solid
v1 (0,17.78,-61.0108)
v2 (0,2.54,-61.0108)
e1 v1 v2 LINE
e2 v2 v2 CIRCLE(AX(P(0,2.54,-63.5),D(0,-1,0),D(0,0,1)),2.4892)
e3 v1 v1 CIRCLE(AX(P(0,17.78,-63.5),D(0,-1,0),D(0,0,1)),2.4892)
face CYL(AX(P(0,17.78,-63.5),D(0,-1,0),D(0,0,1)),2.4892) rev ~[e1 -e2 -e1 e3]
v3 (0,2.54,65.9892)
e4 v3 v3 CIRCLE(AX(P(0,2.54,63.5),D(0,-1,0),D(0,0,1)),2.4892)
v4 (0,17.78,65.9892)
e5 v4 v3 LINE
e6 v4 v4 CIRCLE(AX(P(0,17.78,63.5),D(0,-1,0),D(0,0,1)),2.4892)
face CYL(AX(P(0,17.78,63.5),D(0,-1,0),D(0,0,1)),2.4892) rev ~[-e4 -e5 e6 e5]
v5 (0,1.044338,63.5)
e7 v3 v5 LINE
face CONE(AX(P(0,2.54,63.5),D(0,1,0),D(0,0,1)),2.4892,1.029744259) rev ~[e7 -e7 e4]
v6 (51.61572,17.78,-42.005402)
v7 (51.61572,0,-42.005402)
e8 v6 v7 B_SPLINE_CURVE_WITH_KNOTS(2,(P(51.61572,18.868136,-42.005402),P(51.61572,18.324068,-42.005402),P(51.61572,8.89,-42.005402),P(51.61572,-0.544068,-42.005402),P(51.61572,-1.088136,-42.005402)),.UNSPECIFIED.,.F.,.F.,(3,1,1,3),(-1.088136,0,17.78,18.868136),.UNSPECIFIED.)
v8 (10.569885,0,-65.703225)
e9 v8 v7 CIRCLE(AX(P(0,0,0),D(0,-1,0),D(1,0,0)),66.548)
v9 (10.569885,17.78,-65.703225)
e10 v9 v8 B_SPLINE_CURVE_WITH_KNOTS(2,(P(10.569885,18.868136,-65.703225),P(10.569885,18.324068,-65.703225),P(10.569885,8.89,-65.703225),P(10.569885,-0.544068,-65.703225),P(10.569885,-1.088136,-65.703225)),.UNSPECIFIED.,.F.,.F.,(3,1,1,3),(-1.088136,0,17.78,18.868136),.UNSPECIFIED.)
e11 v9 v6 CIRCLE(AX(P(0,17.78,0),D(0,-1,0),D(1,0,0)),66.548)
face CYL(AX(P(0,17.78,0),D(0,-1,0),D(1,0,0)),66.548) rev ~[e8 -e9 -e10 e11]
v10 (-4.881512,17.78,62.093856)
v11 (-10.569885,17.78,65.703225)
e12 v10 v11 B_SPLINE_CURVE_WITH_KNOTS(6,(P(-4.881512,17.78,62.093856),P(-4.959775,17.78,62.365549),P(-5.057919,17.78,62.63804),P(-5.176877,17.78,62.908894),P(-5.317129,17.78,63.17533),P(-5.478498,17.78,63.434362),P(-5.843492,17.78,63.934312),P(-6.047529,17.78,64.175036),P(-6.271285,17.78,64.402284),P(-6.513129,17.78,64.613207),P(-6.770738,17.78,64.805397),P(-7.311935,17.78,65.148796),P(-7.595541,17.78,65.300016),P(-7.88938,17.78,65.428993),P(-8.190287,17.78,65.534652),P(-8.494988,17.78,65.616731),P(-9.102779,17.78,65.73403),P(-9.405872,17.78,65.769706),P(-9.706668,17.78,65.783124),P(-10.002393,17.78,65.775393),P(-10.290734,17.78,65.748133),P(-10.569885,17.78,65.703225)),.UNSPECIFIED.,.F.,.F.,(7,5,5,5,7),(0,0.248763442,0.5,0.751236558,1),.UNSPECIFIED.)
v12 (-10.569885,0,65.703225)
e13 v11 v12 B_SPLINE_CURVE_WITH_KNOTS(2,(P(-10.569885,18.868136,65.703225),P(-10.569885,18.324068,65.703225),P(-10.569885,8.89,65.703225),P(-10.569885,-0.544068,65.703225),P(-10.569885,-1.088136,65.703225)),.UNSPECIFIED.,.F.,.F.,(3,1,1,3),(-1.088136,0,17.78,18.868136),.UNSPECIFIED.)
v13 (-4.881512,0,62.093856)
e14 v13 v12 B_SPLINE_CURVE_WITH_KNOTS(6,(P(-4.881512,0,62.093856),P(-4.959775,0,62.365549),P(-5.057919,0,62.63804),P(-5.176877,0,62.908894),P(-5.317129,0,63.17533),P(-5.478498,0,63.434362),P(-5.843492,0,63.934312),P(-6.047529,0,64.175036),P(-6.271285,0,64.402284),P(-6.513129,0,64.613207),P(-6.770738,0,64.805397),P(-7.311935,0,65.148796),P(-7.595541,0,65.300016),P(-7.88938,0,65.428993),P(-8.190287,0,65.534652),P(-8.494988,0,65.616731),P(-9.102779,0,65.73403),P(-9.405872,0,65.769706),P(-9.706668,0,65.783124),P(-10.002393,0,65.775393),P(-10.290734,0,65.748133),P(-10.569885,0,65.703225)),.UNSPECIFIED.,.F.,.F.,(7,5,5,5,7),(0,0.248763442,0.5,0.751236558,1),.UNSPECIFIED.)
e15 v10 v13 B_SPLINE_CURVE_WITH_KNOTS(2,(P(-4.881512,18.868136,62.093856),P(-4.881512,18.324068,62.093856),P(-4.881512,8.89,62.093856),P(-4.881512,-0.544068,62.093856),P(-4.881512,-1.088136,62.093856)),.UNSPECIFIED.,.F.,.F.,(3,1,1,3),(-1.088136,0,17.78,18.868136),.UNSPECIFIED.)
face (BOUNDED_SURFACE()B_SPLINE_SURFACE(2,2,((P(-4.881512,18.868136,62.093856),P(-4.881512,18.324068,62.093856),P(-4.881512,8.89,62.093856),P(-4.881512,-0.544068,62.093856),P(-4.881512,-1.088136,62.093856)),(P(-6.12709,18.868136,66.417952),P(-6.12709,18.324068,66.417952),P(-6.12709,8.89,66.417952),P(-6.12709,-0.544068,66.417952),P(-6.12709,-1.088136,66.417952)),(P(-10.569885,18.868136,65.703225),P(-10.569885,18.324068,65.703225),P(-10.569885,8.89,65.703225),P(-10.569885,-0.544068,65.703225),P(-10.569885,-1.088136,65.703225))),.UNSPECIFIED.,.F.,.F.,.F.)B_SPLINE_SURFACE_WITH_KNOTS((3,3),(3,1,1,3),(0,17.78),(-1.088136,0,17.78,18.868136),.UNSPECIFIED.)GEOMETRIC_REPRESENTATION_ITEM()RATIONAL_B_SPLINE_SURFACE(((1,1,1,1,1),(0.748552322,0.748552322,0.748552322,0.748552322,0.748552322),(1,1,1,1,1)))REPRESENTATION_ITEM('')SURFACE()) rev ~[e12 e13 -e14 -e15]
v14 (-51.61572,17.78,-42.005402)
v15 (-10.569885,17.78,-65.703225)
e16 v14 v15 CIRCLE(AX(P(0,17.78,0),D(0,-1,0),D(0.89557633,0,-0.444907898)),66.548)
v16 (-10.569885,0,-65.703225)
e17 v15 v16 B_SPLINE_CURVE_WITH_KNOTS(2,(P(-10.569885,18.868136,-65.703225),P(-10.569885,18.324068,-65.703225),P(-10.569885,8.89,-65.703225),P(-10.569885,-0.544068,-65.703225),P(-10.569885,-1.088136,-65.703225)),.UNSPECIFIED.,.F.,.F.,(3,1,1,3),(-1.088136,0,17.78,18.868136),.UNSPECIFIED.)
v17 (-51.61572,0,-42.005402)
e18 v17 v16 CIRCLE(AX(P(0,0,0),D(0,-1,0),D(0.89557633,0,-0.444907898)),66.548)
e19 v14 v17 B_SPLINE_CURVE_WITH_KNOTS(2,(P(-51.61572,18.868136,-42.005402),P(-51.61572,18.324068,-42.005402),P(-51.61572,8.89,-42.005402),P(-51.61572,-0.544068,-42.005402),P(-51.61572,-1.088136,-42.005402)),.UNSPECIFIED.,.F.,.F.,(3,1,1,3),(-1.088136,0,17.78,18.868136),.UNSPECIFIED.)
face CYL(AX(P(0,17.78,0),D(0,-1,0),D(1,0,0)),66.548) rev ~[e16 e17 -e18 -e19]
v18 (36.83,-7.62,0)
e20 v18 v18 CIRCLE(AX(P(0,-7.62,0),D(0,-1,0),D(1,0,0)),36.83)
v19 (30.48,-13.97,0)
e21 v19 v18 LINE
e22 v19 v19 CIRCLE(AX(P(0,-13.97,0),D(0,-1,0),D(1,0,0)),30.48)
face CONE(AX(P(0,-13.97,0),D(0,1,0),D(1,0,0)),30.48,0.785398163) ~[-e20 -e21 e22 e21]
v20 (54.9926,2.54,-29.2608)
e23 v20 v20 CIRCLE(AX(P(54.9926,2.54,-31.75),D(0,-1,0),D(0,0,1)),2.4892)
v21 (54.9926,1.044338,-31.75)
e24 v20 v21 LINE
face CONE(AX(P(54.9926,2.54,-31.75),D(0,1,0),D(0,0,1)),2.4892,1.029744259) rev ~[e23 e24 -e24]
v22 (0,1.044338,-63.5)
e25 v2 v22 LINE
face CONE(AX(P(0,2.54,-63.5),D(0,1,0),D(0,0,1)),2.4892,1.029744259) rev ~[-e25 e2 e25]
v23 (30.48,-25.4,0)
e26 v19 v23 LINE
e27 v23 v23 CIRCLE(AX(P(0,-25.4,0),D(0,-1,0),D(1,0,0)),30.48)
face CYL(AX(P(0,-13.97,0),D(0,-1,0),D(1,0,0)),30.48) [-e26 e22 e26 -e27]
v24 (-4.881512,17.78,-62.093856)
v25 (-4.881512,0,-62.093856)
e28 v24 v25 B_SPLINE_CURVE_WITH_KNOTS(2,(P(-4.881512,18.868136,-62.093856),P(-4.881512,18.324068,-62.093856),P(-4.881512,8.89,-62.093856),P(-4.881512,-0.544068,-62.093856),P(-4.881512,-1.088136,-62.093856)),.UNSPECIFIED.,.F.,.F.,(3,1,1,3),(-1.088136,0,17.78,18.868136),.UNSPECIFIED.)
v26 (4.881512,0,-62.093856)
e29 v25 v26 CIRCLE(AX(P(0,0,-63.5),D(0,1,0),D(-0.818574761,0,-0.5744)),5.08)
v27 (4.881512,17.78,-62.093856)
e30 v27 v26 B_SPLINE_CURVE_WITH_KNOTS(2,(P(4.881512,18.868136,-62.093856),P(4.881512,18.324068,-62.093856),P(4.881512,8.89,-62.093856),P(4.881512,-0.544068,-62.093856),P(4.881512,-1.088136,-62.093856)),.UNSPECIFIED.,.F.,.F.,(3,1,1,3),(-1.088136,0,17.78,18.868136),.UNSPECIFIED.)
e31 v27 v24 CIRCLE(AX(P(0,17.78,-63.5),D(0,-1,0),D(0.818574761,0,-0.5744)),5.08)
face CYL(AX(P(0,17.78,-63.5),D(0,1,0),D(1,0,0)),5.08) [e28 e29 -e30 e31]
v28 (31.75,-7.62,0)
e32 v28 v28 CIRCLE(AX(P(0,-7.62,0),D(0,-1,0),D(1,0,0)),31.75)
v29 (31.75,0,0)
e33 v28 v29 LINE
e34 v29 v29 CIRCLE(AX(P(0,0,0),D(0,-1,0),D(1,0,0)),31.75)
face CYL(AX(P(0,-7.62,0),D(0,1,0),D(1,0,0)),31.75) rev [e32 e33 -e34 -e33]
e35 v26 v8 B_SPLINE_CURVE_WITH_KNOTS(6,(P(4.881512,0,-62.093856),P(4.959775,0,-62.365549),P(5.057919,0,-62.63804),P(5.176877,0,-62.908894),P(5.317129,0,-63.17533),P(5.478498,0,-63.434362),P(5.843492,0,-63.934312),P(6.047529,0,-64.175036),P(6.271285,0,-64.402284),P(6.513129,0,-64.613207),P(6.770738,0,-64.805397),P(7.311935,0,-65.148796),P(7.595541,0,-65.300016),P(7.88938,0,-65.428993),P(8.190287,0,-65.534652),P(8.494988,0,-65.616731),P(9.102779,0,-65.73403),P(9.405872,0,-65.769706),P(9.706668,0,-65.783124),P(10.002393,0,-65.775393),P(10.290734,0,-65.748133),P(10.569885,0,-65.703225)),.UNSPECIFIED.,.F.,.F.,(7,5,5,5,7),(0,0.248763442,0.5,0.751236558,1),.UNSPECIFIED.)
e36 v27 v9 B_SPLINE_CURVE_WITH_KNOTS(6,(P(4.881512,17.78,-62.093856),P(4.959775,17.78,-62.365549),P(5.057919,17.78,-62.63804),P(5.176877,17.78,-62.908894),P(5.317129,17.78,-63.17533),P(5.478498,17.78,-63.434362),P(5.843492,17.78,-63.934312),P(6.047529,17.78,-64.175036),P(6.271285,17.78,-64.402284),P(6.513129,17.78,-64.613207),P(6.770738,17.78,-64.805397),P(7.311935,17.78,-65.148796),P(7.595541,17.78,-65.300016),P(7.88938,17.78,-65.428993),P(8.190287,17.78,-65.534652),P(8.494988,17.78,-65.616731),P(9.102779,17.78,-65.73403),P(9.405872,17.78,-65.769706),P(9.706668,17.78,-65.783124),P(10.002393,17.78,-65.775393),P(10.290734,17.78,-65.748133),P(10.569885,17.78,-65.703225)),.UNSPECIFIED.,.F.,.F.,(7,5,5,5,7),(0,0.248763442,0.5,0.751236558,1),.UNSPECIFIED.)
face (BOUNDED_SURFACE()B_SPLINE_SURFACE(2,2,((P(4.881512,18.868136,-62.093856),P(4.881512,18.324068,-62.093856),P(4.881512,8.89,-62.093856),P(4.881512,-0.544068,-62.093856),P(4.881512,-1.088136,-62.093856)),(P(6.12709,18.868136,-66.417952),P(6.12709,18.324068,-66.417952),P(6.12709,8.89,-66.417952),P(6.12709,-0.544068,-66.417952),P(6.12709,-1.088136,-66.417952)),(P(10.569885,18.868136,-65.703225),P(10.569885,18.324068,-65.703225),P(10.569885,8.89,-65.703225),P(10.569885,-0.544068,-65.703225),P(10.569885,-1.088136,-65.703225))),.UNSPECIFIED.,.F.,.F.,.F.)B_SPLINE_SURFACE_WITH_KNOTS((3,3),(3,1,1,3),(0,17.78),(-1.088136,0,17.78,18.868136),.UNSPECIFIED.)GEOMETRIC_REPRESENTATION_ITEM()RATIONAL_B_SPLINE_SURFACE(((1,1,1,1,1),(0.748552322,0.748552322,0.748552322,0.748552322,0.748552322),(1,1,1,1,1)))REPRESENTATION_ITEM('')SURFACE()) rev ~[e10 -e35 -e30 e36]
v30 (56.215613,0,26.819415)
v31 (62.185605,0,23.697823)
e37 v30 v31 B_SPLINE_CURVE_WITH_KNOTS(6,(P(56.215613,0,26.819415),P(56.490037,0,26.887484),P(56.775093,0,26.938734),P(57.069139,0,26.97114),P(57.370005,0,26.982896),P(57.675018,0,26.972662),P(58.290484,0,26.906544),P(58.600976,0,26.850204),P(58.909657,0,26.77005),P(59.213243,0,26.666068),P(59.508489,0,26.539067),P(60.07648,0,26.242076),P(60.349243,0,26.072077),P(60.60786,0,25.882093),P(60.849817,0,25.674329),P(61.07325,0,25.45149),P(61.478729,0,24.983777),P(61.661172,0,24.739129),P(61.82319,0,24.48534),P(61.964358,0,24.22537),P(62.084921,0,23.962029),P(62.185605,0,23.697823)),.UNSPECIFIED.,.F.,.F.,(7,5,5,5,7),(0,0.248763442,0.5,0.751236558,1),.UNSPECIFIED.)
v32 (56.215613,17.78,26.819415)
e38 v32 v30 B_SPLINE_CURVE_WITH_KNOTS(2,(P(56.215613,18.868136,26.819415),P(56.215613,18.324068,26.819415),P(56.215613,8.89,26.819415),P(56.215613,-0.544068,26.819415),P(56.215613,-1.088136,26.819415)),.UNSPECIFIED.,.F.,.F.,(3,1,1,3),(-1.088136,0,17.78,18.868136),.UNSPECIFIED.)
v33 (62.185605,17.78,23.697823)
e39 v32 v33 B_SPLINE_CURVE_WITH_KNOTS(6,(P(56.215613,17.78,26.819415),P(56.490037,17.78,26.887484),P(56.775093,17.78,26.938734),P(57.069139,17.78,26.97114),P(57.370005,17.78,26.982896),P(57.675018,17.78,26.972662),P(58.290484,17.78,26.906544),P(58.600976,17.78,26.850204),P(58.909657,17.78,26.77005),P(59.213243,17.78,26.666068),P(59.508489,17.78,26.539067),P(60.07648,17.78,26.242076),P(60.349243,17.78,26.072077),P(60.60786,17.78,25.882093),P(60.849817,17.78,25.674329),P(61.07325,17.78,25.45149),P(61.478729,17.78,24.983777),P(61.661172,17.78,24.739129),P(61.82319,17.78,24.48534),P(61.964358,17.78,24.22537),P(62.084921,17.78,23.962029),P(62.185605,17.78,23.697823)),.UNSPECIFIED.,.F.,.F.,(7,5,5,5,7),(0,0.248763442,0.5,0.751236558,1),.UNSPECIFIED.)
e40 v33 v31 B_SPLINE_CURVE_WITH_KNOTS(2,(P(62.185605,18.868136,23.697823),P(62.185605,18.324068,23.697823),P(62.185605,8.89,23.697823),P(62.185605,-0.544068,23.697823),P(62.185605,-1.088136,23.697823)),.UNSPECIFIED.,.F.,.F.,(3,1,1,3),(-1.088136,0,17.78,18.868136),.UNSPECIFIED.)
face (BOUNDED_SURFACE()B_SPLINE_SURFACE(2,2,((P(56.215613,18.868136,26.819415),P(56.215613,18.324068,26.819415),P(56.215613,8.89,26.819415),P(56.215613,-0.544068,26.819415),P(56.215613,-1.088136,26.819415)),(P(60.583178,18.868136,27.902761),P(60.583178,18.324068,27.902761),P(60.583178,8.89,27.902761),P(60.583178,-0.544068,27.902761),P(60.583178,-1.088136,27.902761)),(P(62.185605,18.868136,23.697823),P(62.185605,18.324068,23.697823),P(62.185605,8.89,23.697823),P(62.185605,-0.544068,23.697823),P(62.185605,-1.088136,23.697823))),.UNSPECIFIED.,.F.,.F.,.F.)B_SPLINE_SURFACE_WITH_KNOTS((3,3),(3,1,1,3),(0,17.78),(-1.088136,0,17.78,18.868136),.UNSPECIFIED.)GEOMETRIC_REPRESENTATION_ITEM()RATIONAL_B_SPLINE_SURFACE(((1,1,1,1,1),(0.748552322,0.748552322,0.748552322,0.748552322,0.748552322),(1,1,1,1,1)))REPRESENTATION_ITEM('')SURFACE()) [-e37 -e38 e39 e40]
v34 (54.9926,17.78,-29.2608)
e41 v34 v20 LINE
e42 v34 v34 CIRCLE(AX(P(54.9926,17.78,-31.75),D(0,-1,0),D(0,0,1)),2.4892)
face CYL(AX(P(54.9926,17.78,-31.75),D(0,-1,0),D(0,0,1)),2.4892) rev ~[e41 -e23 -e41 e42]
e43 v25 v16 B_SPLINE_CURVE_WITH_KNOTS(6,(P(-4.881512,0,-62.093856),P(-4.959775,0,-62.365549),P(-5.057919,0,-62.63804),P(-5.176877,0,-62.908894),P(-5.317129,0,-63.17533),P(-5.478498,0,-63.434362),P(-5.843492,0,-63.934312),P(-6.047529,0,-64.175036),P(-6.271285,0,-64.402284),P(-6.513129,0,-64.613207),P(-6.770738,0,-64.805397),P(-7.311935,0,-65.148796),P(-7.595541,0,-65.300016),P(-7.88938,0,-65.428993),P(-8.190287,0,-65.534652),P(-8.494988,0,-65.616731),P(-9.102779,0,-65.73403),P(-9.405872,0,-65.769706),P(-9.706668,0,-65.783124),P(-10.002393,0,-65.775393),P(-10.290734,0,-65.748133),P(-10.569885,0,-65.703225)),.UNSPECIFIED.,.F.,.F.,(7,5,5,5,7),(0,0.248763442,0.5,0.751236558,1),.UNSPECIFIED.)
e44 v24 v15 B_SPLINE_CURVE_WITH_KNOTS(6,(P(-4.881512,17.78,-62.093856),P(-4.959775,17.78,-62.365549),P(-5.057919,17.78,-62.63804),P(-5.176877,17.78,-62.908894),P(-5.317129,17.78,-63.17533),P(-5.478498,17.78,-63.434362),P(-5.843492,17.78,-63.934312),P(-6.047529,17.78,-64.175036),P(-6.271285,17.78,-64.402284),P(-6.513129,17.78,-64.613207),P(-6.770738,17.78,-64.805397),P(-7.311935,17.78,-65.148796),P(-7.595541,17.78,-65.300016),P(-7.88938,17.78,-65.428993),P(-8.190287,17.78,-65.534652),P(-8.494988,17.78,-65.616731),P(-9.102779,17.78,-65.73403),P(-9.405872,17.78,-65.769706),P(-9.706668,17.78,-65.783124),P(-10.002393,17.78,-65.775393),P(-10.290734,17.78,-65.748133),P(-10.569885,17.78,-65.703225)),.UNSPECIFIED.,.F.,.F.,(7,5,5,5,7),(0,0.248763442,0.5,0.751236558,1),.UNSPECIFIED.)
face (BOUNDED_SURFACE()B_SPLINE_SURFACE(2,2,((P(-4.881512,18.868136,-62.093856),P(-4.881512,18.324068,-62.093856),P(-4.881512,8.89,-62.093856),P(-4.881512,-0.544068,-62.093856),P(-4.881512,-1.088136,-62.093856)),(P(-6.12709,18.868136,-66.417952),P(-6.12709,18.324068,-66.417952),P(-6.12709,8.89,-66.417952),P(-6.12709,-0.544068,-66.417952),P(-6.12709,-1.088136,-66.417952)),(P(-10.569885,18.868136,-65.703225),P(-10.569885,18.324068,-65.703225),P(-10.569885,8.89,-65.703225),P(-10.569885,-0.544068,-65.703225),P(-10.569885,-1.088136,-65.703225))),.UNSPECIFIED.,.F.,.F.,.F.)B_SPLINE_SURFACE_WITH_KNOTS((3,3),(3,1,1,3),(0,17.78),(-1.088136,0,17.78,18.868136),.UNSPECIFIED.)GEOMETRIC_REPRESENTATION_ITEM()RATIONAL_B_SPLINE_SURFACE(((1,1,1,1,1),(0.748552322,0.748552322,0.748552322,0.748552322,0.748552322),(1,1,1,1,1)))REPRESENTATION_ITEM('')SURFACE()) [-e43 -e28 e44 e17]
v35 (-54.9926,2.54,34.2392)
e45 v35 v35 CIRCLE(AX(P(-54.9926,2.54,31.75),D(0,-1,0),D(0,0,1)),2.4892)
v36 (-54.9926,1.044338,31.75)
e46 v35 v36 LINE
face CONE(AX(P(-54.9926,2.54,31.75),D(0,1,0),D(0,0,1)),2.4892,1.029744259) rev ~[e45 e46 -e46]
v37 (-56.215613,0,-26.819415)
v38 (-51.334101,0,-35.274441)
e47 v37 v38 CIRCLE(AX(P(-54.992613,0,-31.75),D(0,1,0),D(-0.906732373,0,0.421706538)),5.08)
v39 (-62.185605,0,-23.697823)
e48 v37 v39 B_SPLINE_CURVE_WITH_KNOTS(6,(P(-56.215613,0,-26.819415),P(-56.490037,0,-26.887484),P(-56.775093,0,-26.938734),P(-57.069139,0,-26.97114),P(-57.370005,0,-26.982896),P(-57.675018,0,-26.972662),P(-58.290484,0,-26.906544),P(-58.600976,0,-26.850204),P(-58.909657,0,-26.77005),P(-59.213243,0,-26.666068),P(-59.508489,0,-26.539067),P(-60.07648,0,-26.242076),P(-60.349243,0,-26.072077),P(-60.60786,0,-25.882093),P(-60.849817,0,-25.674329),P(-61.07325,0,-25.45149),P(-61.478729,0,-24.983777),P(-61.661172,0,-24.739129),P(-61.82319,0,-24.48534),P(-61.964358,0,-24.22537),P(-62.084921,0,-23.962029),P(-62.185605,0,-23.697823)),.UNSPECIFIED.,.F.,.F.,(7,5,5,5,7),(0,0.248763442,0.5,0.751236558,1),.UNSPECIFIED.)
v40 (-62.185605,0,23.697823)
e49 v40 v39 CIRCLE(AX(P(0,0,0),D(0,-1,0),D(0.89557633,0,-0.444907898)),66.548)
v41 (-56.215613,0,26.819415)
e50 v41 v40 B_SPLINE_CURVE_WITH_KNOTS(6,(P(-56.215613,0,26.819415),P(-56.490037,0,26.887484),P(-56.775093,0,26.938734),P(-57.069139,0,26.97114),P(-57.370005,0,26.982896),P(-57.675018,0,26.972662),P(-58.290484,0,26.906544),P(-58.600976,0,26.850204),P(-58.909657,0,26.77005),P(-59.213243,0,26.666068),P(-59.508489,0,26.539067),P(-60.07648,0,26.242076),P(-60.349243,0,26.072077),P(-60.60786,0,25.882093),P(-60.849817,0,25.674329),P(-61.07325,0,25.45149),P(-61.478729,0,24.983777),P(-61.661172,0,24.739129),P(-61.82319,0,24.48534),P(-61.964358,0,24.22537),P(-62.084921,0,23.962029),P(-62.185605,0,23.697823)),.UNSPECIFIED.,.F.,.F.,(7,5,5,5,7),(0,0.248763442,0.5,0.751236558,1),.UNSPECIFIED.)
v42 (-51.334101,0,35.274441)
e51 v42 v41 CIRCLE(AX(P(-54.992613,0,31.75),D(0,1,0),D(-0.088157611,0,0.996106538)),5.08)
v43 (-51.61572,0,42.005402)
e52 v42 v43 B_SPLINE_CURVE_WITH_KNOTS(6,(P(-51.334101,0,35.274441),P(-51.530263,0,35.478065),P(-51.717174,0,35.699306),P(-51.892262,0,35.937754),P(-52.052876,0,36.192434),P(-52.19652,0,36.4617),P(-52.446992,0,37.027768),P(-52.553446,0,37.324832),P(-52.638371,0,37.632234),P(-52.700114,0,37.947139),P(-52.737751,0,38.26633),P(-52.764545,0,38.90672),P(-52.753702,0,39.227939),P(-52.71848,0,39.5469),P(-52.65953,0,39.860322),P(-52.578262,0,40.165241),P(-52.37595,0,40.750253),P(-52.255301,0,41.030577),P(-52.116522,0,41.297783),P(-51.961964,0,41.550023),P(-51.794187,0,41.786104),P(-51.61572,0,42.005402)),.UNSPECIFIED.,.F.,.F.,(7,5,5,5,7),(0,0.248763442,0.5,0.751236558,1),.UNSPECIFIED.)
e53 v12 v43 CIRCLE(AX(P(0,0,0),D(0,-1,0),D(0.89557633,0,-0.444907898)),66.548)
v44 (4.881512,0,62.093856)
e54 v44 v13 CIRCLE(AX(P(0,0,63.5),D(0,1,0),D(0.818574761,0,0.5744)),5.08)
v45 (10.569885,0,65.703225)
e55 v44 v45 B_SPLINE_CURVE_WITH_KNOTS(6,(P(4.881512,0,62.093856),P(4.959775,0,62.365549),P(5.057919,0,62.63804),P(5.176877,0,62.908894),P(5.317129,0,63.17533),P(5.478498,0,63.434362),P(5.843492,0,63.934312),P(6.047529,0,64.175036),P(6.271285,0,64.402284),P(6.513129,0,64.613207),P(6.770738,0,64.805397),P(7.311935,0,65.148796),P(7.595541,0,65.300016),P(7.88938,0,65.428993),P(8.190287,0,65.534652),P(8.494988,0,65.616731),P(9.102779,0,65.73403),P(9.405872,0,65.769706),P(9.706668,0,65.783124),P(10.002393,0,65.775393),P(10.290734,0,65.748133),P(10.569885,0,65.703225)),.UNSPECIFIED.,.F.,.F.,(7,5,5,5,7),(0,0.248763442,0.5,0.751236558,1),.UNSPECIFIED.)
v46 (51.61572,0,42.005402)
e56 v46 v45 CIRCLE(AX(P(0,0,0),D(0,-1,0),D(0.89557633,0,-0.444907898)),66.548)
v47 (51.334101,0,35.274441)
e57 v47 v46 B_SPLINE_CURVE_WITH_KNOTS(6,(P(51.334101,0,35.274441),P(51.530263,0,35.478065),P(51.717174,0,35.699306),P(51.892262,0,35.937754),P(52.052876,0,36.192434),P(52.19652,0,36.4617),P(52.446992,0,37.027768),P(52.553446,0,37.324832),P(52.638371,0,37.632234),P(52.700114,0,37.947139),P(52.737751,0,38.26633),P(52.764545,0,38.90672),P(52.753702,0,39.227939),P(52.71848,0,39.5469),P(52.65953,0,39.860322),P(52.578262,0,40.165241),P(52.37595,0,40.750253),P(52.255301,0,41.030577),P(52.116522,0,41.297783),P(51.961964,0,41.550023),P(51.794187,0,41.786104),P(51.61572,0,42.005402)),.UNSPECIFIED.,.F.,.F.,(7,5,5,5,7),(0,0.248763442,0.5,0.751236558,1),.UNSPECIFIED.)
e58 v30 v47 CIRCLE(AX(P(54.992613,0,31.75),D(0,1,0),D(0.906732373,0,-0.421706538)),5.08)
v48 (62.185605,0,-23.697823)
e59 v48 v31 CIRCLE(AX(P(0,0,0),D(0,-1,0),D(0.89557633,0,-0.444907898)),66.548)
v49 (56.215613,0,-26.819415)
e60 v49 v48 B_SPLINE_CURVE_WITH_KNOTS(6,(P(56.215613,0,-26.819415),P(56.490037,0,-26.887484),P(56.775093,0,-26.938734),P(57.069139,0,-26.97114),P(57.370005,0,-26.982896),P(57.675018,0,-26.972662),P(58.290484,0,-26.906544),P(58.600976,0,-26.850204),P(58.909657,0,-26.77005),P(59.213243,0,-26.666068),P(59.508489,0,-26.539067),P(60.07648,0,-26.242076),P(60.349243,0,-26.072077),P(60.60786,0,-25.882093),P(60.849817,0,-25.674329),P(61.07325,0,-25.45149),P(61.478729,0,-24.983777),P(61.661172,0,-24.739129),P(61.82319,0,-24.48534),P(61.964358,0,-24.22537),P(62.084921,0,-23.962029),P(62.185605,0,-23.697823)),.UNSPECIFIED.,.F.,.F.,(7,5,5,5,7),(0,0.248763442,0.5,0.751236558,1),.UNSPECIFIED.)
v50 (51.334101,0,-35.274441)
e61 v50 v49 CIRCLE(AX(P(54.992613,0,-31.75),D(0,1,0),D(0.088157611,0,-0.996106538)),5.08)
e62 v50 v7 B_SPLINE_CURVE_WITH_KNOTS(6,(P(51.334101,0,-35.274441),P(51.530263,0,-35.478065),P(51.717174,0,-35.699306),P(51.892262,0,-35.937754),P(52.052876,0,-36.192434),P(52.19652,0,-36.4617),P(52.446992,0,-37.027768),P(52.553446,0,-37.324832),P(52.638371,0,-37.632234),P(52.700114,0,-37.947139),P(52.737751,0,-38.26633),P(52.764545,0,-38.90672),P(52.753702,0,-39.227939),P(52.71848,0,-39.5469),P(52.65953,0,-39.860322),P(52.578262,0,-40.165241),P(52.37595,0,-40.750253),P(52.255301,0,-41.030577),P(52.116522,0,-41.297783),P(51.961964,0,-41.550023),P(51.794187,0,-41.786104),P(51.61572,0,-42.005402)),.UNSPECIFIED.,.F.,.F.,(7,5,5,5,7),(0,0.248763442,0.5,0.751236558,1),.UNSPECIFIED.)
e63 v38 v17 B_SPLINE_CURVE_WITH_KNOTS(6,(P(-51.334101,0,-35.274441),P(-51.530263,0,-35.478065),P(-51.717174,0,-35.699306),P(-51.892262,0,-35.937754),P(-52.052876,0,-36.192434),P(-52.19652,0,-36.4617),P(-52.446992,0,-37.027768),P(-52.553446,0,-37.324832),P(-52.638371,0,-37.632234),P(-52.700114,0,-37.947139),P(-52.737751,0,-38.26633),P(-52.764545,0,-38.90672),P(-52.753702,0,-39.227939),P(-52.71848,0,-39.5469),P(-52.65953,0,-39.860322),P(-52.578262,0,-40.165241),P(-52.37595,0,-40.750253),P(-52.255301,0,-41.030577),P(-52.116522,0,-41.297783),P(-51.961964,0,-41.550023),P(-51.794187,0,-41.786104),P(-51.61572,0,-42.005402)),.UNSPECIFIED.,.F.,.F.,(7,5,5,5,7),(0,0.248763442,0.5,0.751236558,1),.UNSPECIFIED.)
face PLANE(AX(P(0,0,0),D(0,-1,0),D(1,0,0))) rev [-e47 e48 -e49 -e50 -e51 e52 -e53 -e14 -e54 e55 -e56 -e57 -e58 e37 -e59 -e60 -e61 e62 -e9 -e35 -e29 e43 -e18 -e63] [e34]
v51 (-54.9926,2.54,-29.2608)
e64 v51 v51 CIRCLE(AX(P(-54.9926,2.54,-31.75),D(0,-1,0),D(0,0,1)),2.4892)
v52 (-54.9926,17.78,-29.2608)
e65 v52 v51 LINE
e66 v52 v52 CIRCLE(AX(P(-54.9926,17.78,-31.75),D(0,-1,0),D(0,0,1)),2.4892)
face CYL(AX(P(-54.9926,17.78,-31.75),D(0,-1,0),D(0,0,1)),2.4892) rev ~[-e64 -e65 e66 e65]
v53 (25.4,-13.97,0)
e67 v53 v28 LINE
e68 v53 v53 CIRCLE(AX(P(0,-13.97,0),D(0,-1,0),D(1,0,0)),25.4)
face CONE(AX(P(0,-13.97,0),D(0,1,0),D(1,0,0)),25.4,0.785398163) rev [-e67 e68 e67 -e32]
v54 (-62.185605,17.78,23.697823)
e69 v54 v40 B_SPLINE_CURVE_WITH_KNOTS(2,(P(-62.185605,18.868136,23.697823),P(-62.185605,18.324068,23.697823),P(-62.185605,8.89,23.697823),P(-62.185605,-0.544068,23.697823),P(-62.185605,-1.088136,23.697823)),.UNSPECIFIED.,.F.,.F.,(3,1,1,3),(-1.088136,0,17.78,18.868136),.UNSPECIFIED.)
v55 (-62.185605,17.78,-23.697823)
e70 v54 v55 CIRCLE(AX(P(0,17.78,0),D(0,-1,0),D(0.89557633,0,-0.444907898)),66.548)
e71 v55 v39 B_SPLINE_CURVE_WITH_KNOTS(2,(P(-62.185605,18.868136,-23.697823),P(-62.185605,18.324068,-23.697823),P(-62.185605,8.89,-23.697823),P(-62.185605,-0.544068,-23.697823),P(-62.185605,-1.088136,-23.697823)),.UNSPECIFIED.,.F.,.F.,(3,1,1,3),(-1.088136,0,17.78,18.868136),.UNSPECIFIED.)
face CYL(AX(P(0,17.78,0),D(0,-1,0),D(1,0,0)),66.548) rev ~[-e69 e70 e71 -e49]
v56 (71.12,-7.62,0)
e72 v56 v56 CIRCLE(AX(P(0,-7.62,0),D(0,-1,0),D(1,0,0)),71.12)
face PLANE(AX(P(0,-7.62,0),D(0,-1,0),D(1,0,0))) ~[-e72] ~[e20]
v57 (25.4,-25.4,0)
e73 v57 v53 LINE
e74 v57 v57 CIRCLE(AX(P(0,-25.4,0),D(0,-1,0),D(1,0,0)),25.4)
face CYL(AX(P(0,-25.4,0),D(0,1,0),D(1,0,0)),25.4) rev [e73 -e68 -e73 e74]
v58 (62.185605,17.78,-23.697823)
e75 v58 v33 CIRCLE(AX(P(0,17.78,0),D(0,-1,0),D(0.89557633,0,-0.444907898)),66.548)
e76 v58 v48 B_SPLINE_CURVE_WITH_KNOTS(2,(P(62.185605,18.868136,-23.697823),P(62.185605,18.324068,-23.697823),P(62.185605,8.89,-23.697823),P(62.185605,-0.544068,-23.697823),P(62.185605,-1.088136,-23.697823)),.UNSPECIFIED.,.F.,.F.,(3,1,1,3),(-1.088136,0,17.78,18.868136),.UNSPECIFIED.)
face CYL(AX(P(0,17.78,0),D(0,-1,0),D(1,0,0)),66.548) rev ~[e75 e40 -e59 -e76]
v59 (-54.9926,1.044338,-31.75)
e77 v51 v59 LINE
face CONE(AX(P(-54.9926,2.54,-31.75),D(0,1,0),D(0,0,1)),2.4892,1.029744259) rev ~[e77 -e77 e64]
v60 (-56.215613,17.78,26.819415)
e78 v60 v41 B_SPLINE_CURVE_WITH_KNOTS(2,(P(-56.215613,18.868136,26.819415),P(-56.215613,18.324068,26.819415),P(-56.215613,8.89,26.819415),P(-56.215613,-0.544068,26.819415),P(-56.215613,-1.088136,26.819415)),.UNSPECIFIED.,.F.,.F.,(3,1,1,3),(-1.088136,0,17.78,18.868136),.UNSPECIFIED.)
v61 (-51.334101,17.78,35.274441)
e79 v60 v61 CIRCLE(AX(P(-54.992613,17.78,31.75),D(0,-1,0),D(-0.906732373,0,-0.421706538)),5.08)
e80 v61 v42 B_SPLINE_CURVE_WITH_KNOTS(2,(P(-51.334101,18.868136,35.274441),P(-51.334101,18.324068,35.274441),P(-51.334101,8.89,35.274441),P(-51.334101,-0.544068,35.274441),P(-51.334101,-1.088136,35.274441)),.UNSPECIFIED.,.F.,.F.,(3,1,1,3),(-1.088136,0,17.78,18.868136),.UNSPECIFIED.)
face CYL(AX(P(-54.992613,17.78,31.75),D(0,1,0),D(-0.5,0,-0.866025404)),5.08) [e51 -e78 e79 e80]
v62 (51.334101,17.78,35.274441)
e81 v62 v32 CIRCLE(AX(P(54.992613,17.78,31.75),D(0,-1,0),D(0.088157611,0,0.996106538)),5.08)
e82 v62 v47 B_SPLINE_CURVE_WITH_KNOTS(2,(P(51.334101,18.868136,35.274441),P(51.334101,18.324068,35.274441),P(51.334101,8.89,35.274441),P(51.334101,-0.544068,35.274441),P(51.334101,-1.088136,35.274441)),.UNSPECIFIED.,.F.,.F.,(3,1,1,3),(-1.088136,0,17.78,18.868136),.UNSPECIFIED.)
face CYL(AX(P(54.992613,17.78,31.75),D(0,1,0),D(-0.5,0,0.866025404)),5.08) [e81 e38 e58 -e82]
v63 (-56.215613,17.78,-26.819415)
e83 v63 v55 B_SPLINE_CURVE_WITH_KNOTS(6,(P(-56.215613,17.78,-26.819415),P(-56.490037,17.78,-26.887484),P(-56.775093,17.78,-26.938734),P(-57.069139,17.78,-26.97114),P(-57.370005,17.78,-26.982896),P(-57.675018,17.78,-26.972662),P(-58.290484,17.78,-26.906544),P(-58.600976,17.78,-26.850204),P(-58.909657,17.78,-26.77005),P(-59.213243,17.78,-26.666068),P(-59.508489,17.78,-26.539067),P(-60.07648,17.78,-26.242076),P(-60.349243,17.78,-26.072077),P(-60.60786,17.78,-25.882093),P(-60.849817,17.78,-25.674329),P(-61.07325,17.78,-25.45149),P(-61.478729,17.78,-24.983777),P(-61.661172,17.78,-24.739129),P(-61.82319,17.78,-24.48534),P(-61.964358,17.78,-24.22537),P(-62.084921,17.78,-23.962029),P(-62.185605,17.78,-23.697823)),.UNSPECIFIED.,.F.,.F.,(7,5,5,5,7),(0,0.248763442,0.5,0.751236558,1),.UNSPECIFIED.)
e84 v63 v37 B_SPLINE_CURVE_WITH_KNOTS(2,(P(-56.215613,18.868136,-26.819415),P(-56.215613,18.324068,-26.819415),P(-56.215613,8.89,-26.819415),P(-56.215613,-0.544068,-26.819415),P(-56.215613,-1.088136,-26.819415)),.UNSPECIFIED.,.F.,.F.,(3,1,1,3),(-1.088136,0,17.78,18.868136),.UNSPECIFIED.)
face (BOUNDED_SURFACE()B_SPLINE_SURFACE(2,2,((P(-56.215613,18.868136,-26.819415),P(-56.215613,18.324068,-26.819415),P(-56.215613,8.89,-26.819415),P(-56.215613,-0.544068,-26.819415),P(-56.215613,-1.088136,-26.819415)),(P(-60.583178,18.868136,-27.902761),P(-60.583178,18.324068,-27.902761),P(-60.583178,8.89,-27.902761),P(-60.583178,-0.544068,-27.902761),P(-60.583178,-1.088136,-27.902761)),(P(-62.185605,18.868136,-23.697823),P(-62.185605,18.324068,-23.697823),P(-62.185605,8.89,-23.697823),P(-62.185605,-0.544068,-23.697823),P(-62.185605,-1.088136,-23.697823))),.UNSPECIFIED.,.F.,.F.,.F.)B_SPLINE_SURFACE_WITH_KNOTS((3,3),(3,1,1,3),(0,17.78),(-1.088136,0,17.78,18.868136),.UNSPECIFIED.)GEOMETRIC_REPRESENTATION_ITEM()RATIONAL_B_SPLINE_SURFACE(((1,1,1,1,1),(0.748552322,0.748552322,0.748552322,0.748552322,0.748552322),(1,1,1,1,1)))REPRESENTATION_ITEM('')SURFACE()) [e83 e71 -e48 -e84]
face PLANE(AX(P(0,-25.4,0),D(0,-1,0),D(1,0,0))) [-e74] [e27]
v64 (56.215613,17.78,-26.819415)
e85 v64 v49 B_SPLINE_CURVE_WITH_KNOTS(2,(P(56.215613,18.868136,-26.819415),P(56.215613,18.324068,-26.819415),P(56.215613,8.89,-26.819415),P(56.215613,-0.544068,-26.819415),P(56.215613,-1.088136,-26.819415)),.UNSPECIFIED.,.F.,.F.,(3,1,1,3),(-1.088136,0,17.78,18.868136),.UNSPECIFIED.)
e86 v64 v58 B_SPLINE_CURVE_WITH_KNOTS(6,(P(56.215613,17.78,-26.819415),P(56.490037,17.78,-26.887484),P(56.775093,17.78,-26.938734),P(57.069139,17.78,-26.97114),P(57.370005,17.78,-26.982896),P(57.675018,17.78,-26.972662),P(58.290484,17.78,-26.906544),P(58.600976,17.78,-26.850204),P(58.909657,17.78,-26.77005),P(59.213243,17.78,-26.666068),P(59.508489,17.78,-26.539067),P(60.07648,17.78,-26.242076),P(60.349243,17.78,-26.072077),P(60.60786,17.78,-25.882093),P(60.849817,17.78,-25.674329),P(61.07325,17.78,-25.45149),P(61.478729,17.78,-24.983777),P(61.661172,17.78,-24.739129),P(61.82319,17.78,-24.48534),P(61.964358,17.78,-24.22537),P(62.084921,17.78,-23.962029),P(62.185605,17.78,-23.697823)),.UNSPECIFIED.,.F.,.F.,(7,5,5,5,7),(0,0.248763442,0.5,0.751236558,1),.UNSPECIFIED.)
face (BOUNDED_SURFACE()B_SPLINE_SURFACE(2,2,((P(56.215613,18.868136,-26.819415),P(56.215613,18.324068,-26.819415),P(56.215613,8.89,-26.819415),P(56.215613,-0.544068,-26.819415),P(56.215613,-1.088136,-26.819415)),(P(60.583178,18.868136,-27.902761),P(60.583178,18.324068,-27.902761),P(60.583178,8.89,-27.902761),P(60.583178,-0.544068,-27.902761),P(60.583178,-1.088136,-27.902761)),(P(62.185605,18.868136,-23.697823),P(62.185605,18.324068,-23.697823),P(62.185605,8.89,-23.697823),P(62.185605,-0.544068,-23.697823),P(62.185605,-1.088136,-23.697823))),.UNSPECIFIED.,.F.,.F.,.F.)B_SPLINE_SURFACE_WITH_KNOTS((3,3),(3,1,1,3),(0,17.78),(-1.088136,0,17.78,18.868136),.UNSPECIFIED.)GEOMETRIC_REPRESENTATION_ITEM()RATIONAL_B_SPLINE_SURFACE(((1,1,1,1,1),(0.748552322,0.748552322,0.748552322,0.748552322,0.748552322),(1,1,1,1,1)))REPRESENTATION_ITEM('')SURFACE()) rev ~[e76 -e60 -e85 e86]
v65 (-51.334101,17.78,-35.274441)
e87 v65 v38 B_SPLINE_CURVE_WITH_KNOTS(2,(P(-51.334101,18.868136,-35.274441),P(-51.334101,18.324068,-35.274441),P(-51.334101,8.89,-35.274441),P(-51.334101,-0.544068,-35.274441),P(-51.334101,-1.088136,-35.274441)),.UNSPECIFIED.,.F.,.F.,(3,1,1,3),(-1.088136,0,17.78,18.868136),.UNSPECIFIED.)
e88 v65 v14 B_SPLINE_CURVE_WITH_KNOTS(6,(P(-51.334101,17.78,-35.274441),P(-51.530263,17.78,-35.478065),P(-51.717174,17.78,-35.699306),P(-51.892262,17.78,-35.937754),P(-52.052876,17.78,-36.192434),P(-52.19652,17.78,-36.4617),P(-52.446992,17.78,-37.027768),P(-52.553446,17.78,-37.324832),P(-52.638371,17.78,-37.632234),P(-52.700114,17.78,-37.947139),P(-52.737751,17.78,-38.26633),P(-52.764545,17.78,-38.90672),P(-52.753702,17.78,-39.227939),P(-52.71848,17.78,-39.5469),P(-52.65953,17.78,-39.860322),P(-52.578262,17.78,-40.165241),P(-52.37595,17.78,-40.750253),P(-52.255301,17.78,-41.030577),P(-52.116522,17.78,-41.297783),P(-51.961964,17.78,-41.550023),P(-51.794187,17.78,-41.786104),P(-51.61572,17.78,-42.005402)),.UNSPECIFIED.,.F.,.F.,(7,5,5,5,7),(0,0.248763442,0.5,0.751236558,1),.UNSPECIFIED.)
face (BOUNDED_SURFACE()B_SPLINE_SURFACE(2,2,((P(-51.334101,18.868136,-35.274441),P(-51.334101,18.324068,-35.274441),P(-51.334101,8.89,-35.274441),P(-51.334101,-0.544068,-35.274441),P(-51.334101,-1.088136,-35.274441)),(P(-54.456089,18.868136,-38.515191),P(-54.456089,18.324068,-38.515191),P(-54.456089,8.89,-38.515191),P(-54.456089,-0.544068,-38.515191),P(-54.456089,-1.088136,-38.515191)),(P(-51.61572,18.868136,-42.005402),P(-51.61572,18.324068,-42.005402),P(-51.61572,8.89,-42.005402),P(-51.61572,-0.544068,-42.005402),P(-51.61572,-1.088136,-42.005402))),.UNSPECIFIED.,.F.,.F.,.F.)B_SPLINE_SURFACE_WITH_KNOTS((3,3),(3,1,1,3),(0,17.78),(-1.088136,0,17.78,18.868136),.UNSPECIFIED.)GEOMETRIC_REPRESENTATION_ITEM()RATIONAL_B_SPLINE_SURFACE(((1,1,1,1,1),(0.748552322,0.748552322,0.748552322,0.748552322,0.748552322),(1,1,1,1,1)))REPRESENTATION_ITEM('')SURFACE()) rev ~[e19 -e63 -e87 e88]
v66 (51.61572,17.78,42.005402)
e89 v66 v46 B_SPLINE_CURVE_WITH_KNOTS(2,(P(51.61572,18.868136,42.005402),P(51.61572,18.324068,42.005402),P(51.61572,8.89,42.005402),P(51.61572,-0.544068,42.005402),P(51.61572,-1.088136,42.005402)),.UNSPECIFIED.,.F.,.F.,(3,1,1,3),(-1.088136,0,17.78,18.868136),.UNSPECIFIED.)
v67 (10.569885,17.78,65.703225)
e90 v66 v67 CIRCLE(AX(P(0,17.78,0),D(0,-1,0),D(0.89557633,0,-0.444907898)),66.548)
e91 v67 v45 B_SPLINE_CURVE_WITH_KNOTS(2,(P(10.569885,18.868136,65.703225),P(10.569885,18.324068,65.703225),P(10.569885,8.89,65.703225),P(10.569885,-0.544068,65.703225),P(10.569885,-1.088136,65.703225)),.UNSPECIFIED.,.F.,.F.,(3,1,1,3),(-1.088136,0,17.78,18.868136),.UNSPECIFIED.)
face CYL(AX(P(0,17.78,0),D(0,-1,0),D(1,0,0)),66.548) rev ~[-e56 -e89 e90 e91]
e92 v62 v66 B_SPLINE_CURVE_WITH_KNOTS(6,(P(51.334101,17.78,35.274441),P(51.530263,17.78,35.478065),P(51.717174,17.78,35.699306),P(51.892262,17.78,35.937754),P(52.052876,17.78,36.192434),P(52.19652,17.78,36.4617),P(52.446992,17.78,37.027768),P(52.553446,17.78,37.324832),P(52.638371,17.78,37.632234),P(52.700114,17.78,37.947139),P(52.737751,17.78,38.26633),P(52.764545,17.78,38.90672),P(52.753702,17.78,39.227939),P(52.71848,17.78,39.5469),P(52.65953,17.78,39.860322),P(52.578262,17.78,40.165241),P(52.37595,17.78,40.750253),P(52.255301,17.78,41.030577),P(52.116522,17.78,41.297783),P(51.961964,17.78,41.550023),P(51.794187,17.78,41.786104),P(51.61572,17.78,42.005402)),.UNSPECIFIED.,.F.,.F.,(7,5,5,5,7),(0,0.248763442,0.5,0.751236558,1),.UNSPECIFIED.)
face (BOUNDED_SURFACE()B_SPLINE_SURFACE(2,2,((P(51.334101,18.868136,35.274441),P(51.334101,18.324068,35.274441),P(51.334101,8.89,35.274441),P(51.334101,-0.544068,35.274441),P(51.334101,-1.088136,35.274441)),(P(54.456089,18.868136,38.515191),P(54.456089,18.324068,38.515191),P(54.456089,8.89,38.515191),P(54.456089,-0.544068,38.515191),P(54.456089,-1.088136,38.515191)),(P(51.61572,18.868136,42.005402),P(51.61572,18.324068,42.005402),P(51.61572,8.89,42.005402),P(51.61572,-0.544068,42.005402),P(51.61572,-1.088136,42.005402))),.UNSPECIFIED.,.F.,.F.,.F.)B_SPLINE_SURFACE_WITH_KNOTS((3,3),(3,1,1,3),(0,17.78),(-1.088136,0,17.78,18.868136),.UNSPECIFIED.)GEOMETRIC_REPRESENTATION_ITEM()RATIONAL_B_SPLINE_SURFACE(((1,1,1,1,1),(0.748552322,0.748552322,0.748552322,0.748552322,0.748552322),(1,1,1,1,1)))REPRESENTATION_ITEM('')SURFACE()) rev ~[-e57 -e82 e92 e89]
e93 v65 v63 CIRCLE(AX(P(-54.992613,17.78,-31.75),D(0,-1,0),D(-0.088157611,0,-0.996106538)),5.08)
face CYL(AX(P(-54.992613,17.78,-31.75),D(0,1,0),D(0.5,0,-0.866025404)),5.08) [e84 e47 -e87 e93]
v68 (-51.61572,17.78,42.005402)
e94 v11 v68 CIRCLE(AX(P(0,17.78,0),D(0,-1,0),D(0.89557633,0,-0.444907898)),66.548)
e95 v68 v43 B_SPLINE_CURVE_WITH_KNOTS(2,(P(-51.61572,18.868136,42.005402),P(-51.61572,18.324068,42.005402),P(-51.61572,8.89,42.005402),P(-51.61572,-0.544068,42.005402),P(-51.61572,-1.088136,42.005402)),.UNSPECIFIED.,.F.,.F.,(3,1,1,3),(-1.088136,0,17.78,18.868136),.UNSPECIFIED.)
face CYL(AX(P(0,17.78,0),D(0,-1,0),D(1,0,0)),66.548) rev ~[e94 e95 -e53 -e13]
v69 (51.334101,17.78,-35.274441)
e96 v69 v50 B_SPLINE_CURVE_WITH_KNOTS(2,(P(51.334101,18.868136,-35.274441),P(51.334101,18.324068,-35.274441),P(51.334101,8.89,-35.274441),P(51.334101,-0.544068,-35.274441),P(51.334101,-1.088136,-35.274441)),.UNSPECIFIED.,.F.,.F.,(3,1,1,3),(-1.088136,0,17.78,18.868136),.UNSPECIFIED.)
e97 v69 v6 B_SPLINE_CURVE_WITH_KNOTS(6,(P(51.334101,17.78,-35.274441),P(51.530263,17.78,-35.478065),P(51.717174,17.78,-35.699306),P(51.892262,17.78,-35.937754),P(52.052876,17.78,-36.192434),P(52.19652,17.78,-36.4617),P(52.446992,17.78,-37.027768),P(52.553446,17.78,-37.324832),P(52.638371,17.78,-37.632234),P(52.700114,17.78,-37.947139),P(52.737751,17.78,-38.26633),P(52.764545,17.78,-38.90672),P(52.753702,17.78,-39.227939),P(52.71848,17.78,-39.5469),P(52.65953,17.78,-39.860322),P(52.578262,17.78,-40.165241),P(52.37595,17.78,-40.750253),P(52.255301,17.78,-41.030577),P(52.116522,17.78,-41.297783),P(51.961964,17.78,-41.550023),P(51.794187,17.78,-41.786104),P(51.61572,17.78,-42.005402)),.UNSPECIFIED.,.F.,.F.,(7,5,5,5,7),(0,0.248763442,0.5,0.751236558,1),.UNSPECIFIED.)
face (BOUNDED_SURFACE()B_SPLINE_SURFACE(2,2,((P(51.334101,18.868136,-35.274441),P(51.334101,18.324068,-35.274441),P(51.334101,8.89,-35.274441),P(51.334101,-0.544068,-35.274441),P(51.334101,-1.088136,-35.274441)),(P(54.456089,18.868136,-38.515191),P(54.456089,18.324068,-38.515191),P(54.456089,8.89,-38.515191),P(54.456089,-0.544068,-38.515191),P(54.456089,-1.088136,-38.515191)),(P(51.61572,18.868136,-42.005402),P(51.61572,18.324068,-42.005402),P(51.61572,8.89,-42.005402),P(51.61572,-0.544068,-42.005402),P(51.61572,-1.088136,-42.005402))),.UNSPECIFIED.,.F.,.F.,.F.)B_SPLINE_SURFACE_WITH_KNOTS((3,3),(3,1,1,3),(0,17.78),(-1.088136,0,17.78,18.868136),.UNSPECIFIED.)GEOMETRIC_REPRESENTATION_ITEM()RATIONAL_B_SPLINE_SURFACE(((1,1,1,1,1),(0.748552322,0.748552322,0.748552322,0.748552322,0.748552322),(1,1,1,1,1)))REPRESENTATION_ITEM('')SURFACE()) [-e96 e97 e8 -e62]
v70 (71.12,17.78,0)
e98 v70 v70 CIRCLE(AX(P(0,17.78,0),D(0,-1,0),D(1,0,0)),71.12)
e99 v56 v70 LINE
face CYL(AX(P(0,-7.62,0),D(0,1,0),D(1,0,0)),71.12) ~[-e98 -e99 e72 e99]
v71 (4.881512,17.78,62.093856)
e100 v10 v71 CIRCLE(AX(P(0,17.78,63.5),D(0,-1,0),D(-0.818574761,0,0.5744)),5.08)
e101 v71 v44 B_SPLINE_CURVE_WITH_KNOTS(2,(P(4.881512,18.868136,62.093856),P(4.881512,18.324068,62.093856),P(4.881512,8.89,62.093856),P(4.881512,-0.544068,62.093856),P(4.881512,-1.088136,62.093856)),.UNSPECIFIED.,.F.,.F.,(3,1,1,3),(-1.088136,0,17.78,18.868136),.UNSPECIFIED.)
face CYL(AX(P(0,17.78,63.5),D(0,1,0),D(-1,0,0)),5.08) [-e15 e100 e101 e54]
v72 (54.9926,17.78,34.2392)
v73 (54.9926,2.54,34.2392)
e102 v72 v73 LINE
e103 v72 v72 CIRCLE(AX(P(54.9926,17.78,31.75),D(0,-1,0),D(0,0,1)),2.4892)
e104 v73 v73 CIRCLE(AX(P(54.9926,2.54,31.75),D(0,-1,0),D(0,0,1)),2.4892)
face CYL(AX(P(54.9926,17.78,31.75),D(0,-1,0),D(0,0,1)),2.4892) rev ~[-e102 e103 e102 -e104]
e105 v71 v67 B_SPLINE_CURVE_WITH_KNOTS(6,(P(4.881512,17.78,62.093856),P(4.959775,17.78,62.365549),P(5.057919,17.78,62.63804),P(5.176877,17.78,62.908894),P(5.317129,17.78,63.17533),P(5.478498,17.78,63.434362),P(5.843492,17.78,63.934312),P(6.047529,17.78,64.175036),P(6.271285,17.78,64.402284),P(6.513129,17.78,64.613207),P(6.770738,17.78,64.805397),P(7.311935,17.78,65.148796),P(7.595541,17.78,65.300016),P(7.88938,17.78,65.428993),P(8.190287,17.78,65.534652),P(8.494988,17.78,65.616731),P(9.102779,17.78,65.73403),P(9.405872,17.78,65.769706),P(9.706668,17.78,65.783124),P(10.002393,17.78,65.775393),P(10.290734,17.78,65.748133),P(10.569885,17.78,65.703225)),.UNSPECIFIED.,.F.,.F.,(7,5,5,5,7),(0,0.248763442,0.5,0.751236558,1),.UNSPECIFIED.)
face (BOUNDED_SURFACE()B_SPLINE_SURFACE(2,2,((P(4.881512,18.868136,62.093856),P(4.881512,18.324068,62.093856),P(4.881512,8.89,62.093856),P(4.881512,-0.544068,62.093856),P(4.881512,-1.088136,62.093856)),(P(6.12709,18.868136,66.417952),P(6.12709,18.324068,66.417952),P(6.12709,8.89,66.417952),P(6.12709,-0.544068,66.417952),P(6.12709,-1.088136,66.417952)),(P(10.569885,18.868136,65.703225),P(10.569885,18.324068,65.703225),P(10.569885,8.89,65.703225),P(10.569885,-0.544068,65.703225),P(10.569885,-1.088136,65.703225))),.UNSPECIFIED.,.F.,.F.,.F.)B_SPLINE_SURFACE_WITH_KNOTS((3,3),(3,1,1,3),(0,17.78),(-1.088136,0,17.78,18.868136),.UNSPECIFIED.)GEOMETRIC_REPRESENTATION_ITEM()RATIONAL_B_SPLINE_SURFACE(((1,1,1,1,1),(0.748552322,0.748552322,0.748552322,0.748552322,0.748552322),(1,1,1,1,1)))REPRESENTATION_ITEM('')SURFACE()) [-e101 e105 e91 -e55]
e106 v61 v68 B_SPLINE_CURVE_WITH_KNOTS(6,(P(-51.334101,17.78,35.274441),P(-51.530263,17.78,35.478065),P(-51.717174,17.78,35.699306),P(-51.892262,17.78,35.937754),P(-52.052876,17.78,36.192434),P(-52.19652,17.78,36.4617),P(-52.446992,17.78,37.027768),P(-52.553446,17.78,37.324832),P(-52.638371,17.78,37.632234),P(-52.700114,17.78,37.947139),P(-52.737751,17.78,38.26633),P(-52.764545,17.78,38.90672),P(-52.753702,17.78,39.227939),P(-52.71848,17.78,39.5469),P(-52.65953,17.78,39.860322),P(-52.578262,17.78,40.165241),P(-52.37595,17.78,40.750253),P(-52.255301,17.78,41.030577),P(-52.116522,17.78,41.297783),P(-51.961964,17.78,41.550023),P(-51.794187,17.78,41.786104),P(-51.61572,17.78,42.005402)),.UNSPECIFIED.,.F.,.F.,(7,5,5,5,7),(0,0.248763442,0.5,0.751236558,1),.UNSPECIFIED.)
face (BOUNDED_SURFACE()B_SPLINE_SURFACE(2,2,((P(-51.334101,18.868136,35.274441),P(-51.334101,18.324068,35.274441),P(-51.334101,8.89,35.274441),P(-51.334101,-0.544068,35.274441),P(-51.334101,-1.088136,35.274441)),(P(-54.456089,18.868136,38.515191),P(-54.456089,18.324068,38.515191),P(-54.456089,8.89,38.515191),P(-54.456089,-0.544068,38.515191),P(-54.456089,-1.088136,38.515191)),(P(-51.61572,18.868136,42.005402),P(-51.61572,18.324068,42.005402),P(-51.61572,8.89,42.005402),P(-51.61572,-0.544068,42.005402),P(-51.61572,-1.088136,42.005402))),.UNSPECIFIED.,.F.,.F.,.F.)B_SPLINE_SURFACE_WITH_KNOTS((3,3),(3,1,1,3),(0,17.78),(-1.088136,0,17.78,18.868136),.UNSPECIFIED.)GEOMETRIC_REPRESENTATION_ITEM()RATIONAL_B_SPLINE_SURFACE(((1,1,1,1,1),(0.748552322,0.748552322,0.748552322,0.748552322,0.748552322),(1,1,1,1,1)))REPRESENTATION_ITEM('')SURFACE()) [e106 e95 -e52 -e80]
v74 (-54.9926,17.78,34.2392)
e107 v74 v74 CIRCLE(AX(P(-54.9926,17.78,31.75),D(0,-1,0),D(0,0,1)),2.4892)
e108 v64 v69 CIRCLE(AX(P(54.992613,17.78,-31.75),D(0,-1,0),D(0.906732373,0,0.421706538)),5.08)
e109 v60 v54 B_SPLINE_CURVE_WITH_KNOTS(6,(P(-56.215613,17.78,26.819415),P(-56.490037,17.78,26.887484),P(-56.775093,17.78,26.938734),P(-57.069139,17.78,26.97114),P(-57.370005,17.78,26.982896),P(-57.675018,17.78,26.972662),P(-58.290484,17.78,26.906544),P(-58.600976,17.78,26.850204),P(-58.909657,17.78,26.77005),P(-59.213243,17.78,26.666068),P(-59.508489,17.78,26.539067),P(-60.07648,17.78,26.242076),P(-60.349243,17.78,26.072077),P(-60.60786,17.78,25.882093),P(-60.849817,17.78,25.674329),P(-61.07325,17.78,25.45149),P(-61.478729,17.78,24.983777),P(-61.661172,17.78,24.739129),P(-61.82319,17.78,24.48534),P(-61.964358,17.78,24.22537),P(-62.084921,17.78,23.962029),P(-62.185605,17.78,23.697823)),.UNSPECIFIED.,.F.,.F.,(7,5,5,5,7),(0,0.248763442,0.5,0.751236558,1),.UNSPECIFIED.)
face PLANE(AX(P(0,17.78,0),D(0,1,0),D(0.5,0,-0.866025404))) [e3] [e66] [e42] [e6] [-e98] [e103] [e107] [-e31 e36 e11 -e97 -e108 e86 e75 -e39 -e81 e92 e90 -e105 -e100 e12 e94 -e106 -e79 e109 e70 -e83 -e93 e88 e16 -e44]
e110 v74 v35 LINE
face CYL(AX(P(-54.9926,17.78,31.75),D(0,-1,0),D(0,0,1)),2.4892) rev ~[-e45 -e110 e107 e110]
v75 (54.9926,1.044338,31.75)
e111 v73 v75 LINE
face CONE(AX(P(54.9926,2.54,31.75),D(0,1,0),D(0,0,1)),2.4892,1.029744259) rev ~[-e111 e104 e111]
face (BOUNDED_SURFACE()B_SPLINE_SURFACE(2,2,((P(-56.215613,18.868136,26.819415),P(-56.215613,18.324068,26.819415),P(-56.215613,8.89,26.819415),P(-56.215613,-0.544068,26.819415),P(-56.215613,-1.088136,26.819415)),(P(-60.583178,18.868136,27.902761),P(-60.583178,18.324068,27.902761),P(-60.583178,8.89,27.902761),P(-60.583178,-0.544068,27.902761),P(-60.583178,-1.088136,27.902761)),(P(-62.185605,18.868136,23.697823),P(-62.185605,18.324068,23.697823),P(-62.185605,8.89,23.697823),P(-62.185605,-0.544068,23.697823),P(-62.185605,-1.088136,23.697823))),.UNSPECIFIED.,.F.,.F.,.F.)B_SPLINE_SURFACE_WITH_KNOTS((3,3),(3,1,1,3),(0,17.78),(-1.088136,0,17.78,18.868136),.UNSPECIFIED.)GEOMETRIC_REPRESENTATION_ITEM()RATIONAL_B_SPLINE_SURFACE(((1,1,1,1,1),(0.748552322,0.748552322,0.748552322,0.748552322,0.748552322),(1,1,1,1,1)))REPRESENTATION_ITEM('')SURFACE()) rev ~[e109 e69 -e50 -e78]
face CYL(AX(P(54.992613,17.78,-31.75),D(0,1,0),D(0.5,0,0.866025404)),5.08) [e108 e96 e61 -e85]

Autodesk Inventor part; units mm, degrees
ref_plane "YZ Plane" through (0, 0, 0) normal (1, 0, 0) x (0, 1, 0)
ref_plane "XZ Plane" through (0, 0, 0) normal (0, 1, 0) x (-1, 0, 0)
ref_plane "XY Plane" through (0, 0, 0) normal (0, 0, 1) x (1, 0, 0)
sketch "Sketch1" plane through (0, 0, 0) normal (0, 0, 1) x (1, 0, 0)
  line L0 (71.12, 17.78) -> (66.548, 17.78)
  line L1 (66.548, 17.78) -> (66.548, -7.62)
  line L2 (66.548, -7.62) -> (71.12, -7.62)
  line L3 (71.12, -7.62) -> (71.12, 17.78)
  line L4 (66.548, -7.62) -> (31.75, -7.62)
  line L5 (31.75, -7.62) -> (31.75, 0)
  line L6 (31.75, 0) -> (66.548, 0)
  line L7 (66.548, 0) -> (66.548, -7.62)
  line L8 (25.4, -13.97) -> (30.48, -13.97)
  line L9 (30.48, -13.97) -> (30.48, -25.4)
  line L10 (30.48, -25.4) -> (25.4, -25.4)
  line L11 (25.4, -25.4) -> (25.4, -13.97)
  line L12 (0, 0) -> (0, -50.8709) construction
  line L13 (25.4, -13.97) -> (31.75, -7.62)
  line L14 (30.48, -13.97) -> (36.83, -7.62)
  dimension "d0" = 142.24
  dimension "d1" = 50.8
  dimension "d2" = 4.572
  dimension "d4" = 6.35
  dimension "d5" = 11.43
  dimension "d6" = 25.4
  dimension "d7" = 45
  dimension "d9" = 5.08
  dimension "d10" = 7.62
revolve "Revolution1" add sketch "Sketch1" angle 360 about axis through (0, 0, 0) along (0, -1, 0)
sketch "Sketch2" plane through (0, 17.78, 0) normal (0, 1, 0) x (1, 0, 0)
  circle A0 centre (0, 0) radius 71.12 projected
  line L0 (0, 0) -> (0, 63.5) construction
  circle A1 centre (0, 63.5) radius 5.08
  dimension "d11" = 63.5
  dimension "d12" = 10.16
extrude "Extrusion1" add sketch "Sketch2" against normal up to surface (17.78 mm away) contours A1
fillet "Fillet1" radius 5.08 2 edges at (4.1584, 8.89, -66.418) (-4.1584, 8.89, -66.418)
pattern_circular "Circular Pattern1" count 6 over 360 about axis through (0, -19.685, 0) along (0, -1, 0) of "Extrusion1", "Fillet1"
thread "Thread1" size "2" designation "2 - 11.5 NPT" standard "NPT" length 26.8732
sketch "Sketch3" plane through (0, 17.78, 0) normal (0, 1, 0) x (1, 0, 0)
  arc A0 (-4.8815, 62.0939) -> (4.8815, 62.0939) centre (0, 63.5) ccw projected
  arc A1 (-51.3341, -35.2744) -> (-56.2156, -26.8194) centre (-54.9926, -31.75) ccw projected
  arc A2 (4.8815, -62.0939) -> (-4.8815, -62.0939) centre (0, -63.5) ccw projected
  arc A3 (56.2156, -26.8194) -> (51.3341, -35.2744) centre (54.9926, -31.75) ccw projected
  arc A4 (51.3341, 35.2744) -> (56.2156, 26.8194) centre (54.9926, 31.75) ccw projected
  arc A5 (-56.2156, 26.8194) -> (-51.3341, 35.2744) centre (-54.9926, 31.75) ccw projected
  point P0 (0, 63.5)
  point P1 (-51.8006, -35.7019)
  point P2 (-56.819, -27.0097)
  point P3 (5.0184, -62.7116)
  point P4 (-5.0184, -62.7116)
  point P5 (56.819, -27.0097)
  point P6 (51.8006, -35.7019)
  point P7 (51.8006, 35.7019)
  point P8 (56.819, 27.0097)
  point P9 (-56.819, 27.0097)
  point P10 (-51.8006, 35.7019)
hole "Hole1" at (0, 17.78, -63.5) at (-54.9926, 17.78, 31.75) at (0, 17.78, 63.5) at (54.9926, 17.78, 31.75) at (54.9926, 17.78, -31.75) at (-54.9926, 17.78, -31.75) direction (0, -1, 0) diameter 4.9784 depth 15.24 tip angle 118 thread size "1/4-20 UNC" class "2B" standard "ANSI Unified Screw Threads"
properties part number "Cap Housing Base"
